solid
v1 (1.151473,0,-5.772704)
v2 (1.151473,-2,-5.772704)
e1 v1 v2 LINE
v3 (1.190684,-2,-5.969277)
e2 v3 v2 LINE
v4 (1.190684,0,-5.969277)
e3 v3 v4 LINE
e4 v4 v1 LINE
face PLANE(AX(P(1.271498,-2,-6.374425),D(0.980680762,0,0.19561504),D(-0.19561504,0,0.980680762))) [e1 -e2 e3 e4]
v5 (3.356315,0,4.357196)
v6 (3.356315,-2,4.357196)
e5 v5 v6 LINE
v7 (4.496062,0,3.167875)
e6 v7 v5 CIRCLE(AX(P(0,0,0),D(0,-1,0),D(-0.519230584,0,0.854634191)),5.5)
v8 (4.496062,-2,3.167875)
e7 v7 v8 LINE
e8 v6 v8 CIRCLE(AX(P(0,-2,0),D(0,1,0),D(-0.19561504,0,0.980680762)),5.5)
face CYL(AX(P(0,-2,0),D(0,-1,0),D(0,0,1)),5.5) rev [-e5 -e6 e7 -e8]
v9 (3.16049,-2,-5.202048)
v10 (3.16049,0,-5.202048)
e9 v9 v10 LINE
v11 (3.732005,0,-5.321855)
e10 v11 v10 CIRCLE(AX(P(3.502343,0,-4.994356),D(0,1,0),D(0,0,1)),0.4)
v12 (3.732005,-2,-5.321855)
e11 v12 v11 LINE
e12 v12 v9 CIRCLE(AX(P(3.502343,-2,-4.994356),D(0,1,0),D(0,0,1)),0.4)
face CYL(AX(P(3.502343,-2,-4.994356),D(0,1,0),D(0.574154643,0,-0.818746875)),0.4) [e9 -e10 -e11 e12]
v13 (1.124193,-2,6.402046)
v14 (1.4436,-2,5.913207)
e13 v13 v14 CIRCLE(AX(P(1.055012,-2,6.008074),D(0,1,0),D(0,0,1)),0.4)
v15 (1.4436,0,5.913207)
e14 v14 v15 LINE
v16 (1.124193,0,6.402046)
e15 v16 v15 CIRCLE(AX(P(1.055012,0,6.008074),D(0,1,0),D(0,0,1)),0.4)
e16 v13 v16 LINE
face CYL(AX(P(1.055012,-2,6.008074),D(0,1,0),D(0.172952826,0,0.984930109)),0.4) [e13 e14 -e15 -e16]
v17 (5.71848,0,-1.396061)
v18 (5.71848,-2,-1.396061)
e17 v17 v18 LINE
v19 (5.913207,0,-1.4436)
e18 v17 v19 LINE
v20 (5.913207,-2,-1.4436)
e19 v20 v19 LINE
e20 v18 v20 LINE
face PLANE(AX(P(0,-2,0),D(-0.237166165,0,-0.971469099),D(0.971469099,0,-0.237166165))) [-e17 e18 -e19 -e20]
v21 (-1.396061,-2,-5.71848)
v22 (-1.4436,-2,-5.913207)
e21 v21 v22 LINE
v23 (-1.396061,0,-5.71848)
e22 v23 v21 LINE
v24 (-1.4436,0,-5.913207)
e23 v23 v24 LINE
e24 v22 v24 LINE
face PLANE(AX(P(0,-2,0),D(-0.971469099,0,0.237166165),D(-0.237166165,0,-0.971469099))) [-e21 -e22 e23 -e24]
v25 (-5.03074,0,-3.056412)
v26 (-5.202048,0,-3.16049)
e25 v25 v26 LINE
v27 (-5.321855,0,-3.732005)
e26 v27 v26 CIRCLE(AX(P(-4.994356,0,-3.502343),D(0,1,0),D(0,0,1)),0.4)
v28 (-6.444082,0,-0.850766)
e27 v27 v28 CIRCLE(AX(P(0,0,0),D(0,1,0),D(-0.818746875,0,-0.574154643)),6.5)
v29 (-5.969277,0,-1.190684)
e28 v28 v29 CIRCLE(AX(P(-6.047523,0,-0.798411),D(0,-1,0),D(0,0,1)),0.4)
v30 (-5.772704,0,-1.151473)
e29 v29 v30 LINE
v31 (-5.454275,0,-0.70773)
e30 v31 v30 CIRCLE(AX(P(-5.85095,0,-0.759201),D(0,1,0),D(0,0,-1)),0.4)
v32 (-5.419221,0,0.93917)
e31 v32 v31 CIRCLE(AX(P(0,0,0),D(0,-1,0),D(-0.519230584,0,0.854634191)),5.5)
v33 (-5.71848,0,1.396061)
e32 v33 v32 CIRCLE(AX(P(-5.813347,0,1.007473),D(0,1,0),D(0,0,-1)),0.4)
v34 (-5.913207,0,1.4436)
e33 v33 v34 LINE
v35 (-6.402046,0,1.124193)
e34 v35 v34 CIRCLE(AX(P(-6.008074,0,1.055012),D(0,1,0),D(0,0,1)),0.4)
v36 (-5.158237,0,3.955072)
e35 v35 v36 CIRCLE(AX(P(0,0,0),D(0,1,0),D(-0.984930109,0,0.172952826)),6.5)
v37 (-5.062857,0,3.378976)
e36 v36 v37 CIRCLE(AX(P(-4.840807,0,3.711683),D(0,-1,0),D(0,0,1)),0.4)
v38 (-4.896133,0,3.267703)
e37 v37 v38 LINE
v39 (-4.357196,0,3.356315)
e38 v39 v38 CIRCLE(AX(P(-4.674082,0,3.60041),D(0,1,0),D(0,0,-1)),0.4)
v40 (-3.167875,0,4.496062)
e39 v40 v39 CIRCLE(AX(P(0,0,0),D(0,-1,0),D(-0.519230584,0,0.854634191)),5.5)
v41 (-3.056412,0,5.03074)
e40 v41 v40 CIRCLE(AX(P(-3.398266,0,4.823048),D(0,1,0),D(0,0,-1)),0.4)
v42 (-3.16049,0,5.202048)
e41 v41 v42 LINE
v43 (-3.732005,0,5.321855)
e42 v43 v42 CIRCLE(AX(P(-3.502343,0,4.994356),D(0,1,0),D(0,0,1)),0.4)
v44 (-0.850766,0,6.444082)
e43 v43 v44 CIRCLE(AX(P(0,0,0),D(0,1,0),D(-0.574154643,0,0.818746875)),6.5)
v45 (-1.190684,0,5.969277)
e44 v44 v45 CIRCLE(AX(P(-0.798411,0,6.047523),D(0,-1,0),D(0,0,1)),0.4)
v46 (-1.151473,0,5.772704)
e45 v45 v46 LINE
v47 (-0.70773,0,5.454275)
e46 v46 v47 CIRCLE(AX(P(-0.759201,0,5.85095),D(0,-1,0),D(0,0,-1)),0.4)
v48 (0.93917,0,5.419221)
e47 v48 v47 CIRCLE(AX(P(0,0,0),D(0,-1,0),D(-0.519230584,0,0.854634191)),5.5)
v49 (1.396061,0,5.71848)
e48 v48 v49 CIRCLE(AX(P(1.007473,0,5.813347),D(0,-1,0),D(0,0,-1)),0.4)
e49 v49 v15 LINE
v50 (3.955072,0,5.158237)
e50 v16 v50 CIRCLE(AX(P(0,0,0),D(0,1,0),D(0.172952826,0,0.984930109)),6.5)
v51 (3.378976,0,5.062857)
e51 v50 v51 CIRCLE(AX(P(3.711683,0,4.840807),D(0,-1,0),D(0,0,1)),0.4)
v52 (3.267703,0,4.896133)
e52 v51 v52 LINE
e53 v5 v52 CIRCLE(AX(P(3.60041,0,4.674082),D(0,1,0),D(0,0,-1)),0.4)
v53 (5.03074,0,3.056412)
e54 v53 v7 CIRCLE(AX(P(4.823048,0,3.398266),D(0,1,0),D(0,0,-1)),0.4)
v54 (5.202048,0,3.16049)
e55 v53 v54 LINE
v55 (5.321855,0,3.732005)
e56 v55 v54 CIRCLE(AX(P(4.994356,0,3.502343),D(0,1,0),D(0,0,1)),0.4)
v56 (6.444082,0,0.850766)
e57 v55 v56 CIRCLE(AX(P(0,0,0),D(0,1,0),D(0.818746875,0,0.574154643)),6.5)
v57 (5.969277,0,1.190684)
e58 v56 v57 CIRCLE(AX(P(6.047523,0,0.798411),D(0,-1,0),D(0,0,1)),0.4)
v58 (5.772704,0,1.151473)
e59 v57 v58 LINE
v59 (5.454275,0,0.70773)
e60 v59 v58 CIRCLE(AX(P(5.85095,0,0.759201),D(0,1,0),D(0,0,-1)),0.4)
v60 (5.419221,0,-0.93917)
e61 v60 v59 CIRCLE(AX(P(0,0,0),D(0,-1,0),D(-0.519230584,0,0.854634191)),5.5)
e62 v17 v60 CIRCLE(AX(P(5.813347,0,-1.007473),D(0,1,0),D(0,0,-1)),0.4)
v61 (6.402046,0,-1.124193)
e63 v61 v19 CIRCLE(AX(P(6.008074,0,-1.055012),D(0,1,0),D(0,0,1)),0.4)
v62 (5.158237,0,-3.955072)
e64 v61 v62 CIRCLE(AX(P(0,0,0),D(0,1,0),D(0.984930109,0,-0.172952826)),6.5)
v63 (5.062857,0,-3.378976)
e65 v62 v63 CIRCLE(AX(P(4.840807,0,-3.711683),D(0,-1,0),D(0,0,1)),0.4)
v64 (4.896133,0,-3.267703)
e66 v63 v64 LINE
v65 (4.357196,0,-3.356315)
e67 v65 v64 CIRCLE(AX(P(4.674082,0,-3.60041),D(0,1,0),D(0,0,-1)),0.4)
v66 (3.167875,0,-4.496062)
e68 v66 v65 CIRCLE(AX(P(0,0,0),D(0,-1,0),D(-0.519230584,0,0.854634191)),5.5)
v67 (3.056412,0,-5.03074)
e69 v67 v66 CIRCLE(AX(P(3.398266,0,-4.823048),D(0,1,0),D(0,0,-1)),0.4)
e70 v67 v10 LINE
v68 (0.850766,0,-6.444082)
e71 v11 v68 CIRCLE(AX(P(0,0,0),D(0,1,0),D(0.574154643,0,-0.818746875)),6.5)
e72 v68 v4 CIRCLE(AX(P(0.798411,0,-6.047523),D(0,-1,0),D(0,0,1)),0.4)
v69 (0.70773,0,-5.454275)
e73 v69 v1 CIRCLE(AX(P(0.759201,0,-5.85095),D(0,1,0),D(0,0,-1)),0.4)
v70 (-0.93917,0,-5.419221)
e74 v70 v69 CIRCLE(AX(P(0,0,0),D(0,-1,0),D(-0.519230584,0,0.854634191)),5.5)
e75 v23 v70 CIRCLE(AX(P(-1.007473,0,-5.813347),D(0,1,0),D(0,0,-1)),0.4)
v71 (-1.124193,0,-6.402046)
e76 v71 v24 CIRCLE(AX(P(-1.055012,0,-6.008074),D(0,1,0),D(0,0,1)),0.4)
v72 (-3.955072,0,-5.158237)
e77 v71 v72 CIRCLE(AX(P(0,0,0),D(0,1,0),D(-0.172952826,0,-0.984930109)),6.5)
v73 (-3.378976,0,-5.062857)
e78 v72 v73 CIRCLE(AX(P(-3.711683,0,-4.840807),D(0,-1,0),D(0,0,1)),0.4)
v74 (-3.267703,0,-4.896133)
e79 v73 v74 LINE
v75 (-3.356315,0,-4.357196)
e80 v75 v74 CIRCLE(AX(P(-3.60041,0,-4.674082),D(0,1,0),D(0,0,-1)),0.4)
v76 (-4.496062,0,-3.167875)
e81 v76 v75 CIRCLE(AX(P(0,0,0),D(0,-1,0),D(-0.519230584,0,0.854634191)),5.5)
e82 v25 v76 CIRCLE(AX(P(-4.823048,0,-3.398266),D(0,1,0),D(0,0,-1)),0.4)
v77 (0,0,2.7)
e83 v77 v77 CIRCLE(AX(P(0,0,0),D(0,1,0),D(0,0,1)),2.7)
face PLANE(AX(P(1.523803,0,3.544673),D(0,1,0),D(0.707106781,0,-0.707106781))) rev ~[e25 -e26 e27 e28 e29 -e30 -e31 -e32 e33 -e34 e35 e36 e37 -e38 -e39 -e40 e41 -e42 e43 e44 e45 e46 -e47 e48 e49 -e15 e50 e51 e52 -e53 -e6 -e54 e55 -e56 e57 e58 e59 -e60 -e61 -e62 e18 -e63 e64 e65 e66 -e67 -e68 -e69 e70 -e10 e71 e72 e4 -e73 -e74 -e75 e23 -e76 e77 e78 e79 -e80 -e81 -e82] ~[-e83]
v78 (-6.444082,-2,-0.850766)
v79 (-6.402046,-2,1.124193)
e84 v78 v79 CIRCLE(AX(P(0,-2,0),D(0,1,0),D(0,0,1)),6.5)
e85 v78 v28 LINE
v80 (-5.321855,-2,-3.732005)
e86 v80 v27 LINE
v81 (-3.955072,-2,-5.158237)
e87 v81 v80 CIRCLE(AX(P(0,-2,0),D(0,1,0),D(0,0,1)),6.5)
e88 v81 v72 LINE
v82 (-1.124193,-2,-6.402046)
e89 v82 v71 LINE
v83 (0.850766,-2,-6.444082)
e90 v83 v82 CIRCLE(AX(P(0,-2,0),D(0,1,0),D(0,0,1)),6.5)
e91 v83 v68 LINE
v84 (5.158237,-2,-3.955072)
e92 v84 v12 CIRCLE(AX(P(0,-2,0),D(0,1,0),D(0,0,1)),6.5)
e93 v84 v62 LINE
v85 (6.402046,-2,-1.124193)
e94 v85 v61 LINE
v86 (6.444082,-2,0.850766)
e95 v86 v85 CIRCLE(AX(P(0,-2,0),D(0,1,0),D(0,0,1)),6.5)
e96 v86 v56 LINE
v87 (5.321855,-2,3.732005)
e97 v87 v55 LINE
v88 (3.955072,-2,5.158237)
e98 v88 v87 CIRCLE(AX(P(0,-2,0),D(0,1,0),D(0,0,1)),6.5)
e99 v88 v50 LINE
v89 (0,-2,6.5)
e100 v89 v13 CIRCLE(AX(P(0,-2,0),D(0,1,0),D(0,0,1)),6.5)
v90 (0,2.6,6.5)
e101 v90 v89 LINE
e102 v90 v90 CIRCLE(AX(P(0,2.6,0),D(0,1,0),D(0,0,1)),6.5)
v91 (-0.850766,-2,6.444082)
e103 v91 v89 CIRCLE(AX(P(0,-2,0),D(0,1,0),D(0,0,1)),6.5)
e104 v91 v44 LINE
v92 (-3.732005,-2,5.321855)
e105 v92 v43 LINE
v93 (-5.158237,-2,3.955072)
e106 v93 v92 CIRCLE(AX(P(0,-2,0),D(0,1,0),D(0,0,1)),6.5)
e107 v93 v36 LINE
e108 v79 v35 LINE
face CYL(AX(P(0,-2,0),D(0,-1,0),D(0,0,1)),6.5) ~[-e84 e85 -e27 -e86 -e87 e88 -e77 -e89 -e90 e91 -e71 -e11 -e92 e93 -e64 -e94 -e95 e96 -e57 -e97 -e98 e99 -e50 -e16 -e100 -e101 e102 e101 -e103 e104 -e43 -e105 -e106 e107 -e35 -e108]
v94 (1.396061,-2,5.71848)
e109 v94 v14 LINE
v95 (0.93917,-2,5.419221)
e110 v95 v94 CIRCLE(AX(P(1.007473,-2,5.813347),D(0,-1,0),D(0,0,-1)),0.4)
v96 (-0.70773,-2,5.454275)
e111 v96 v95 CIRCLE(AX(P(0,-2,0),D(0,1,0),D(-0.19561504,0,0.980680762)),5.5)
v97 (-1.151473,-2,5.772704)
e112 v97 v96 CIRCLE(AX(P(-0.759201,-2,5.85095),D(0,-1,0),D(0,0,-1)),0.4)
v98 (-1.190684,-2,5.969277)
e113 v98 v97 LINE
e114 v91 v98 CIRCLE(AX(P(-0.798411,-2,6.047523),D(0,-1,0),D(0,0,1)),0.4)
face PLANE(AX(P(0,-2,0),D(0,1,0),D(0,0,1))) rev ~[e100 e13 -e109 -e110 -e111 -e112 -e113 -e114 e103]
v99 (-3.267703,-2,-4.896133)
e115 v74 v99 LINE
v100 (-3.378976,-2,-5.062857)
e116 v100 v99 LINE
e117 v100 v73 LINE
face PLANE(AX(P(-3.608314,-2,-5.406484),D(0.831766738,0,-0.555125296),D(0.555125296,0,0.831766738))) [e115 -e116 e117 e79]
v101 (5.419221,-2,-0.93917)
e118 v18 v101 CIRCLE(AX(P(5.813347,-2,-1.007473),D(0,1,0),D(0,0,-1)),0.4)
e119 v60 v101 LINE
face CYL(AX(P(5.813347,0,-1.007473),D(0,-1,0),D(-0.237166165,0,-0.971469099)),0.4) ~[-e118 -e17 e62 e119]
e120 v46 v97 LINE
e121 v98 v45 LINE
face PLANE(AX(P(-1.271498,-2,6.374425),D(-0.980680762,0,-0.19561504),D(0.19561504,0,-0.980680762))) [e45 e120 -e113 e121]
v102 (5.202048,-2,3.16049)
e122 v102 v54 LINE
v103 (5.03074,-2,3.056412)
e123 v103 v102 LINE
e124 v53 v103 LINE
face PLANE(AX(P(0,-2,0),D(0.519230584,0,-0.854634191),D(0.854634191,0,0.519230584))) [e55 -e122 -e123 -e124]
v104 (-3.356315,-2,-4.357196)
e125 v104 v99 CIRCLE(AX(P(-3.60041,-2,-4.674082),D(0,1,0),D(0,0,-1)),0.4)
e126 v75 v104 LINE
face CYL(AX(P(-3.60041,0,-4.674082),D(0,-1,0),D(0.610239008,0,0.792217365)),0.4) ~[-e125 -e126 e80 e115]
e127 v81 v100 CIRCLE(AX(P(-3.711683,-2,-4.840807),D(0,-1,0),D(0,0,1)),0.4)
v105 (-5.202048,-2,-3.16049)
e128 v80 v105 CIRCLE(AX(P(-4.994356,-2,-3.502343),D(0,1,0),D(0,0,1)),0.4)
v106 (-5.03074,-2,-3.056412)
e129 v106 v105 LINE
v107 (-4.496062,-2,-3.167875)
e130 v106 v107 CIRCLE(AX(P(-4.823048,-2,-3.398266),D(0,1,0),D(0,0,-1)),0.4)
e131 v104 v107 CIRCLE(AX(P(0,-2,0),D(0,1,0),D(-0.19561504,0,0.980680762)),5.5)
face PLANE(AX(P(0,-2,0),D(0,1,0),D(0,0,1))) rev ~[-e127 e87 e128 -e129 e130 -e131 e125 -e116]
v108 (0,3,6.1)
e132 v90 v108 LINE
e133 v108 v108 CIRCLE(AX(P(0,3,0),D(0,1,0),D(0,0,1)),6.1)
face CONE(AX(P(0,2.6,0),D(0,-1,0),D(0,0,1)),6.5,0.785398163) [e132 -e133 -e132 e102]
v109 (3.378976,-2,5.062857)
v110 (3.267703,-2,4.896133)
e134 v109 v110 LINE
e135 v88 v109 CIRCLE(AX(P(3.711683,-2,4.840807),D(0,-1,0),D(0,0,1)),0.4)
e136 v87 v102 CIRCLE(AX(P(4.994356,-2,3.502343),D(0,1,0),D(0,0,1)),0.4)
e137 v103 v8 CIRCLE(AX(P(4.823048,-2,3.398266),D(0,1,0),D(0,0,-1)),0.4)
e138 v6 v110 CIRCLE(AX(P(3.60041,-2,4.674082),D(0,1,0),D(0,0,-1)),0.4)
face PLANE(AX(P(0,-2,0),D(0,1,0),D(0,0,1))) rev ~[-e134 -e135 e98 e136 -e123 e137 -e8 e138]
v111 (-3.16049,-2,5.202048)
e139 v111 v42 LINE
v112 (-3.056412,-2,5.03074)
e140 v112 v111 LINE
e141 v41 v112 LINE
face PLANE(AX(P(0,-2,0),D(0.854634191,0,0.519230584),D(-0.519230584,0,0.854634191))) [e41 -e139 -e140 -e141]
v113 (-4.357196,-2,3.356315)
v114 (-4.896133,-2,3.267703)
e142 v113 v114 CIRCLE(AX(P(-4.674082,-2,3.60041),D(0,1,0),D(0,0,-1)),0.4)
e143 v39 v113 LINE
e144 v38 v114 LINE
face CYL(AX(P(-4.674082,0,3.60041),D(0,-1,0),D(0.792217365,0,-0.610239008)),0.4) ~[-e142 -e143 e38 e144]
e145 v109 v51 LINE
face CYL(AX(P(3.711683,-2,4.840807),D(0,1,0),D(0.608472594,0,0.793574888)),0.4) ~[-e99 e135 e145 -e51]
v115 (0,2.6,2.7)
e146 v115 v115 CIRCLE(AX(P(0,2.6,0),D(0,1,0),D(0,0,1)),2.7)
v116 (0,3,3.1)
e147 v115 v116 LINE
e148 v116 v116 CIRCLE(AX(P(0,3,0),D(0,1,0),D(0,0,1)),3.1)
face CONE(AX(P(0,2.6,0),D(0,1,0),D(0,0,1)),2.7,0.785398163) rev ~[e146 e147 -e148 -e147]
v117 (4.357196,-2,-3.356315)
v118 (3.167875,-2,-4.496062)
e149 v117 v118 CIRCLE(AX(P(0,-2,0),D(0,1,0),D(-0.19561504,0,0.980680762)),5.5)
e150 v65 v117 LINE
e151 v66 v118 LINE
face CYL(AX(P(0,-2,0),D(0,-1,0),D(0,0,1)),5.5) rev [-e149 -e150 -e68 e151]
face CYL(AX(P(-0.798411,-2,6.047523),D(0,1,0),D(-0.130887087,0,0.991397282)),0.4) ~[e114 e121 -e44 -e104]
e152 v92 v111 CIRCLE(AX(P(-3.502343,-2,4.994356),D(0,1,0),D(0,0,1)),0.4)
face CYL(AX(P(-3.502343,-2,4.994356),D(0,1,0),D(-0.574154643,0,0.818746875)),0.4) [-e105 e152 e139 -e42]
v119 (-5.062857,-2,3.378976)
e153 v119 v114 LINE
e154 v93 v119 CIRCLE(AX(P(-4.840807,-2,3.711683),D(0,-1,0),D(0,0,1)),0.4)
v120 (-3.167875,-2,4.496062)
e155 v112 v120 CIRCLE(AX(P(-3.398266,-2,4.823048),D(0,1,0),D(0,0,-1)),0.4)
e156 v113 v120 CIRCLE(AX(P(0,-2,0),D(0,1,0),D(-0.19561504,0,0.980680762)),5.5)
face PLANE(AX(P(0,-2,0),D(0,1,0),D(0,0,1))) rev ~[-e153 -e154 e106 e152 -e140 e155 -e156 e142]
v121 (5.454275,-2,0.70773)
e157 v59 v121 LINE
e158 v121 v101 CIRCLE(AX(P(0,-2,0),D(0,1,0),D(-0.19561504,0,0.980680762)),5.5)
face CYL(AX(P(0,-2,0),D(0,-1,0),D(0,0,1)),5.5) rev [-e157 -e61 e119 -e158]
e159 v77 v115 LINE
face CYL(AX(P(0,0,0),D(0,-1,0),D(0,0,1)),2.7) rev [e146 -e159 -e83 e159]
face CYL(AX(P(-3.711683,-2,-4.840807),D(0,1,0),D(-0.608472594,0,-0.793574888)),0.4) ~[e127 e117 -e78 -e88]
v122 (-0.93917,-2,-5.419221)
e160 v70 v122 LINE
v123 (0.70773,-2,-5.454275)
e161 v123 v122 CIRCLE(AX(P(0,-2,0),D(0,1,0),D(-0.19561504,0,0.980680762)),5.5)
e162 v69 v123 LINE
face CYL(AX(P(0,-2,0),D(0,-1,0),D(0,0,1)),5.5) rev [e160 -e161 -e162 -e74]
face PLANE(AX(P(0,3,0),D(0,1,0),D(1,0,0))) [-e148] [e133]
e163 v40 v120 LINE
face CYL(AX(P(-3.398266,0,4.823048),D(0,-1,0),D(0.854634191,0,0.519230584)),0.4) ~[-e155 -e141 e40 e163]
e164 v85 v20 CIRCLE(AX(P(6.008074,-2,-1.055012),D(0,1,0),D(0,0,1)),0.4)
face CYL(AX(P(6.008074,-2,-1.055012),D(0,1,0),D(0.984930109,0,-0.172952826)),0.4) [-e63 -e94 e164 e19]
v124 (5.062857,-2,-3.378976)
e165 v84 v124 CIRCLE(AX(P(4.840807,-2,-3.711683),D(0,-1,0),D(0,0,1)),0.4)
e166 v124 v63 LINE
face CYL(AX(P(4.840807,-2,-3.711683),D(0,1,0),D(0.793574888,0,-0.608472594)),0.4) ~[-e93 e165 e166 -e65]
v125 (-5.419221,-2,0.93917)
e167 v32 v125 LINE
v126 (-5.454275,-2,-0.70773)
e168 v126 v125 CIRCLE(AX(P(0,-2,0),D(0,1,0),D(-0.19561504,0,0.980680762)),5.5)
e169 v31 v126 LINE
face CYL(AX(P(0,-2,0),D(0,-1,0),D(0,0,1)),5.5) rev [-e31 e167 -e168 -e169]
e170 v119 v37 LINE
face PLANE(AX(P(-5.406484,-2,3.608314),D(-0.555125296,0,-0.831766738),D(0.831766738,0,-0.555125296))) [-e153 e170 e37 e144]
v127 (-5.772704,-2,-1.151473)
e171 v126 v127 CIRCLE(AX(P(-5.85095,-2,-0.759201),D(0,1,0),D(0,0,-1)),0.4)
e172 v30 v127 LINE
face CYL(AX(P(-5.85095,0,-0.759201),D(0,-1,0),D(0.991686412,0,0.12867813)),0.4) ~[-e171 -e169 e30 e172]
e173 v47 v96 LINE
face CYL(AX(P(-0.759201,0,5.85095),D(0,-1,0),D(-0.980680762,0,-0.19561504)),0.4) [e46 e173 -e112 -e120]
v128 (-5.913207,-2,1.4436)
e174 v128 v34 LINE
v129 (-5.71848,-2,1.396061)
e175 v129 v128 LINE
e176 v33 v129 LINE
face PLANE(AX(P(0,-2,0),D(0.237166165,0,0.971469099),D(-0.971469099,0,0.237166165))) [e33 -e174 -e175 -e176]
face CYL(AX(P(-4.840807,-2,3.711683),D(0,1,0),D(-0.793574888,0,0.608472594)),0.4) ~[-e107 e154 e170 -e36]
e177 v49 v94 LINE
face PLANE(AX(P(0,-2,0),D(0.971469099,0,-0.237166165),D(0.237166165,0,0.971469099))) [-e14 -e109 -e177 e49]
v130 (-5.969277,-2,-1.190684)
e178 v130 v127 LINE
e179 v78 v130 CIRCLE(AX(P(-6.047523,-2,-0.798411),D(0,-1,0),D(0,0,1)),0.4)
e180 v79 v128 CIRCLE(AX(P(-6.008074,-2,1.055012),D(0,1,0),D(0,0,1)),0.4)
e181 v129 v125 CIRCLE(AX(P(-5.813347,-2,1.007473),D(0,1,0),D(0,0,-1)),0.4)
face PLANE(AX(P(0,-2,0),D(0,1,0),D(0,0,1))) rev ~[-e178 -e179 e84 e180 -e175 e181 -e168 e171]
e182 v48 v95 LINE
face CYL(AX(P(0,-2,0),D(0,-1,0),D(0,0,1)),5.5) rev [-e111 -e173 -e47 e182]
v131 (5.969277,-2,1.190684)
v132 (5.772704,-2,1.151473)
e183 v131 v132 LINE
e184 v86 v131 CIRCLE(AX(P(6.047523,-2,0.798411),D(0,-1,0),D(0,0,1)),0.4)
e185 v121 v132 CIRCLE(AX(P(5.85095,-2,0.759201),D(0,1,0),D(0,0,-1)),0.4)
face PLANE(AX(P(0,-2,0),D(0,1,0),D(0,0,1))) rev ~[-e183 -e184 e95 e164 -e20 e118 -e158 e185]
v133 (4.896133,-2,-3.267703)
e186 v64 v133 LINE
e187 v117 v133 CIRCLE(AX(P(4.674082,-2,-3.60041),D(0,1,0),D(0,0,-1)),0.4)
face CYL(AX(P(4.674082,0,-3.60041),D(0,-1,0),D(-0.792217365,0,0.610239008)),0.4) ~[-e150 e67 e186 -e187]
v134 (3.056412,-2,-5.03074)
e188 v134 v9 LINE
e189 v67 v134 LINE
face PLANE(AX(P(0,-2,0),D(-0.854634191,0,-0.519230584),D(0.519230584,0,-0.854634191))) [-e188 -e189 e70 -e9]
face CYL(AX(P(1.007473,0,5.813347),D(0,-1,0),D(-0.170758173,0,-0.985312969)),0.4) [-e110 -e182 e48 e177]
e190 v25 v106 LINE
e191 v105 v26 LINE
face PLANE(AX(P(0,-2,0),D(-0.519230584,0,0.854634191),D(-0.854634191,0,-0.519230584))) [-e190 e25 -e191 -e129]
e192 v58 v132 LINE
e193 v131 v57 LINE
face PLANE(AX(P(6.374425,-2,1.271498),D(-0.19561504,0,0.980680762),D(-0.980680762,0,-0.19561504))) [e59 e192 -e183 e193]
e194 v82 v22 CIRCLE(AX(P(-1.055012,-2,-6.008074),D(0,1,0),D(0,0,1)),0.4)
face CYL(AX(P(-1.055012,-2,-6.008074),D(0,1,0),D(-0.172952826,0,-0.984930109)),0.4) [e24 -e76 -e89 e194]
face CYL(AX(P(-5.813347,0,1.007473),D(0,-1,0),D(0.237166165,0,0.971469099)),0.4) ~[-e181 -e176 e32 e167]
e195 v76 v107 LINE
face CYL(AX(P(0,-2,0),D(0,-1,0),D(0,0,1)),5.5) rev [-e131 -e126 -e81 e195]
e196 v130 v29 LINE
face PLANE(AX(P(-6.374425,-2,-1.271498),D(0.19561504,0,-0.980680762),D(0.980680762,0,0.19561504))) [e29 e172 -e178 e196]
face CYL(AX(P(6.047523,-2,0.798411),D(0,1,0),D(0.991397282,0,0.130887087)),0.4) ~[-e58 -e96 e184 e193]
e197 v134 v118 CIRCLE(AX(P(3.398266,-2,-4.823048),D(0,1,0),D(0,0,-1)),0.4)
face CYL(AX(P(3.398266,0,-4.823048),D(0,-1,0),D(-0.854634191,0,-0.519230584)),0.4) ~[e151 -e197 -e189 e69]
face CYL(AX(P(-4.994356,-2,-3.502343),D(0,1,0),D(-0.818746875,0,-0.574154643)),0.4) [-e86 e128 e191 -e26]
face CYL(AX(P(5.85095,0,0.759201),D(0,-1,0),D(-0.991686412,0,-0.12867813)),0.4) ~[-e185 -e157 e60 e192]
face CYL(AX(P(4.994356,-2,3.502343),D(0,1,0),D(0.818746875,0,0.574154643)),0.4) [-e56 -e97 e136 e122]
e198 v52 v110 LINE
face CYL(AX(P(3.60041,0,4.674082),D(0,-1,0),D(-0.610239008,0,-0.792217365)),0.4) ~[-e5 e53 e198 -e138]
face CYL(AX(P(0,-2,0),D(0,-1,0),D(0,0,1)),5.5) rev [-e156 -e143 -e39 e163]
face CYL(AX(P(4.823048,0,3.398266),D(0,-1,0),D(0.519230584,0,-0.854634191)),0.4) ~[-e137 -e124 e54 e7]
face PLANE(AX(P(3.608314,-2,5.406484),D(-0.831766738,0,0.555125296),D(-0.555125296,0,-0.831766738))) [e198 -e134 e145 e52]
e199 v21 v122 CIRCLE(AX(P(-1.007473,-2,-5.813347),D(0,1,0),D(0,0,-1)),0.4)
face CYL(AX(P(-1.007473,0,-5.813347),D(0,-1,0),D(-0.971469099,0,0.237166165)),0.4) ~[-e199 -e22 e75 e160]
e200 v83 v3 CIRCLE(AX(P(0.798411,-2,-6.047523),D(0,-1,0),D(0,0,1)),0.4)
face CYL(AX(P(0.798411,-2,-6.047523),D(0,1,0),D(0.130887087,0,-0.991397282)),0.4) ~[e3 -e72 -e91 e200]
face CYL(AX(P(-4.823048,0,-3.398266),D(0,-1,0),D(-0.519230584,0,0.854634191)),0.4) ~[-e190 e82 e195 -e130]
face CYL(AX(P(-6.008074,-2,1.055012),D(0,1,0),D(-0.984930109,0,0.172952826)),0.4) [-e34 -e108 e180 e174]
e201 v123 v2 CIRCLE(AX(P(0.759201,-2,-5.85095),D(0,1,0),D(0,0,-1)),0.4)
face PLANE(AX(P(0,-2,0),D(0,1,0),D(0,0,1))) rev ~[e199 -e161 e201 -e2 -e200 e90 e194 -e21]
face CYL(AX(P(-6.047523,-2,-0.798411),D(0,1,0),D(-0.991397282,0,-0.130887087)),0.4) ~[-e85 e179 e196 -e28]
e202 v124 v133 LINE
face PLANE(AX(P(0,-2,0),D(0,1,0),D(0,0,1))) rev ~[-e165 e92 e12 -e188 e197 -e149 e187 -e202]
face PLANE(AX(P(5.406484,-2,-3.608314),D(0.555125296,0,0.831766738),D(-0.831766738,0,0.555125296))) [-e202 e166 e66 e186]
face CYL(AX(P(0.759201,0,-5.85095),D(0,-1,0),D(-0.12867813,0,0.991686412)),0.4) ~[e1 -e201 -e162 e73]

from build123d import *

# Parameters (mm, degrees)
SKETCH1_R           = 6.5
SKETCH1_R_2         = 2.7
BOSS_EXTRUDE1_DEPTH = 3
BOSS_EXTRUDE2_START = -2
SKETCH1_3_R         = 6.5
SKETCH1_3_R_2       = 5.5
BOSS_EXTRUDE2_DEPTH = 2
CUT_EXTRUDE1_DEPTH  = 2
CIRPATTERN1_COUNT   = 8
FILLET2_R           = 0.4
CHAMFER1_SIZE       = 0.4


with BuildPart() as part:
    # Sketch1 → Boss-Extrude1 (new body)
    with BuildSketch(Plane(origin=(0, 0, 0), x_dir=(1, 0, 0), z_dir=(0, 1, 0))):
        Circle(SKETCH1_R)
        Circle(SKETCH1_R_2, mode=Mode.SUBTRACT)
    extrude(amount=BOSS_EXTRUDE1_DEPTH)

    # Sketch1<3> → Boss-Extrude2 (add)
    with BuildSketch(Plane(origin=(0, 0, 0), x_dir=(1, 0, 0), z_dir=(0, 1, 0)).offset(BOSS_EXTRUDE2_START)):
        Circle(SKETCH1_3_R)
        Circle(SKETCH1_3_R_2, mode=Mode.SUBTRACT)
    extrude(amount=BOSS_EXTRUDE2_DEPTH)

    # Sketch2 → Cut-Extrude1 (cut)
    with BuildSketch(Plane(origin=(0, -2, 0), x_dir=(-1, 0, 0), z_dir=(0, -1, 0))):
        Polygon((0, 0), (3.374998796, -5.555122242), (3.374998796, -6.374424951), (1.271497758, -6.374424951), align=None)
    cut_extrude1 = extrude(amount=-CUT_EXTRUDE1_DEPTH, mode=Mode.SUBTRACT)

    # CirPattern1: Cut-Extrude1 ×8 about axis
    cirpattern1_axis = Axis((0, 3, 0), (0, -1, 0))
    for i in range(1, CIRPATTERN1_COUNT):
        add(cut_extrude1.rotate(cirpattern1_axis, i * 360 / CIRPATTERN1_COUNT), mode=Mode.SUBTRACT)

    # Fillet2
    fillet2_edges = [part.edges().sort_by_distance(p)[0] for p in [
        (6.314549143, -1, -1.541580072),
        (5.406483796, -1, -3.608314421),
        (3.374998796, -1, -5.555122242),
        (1.271497758, -1, -6.374424951),
        (-1.541580072, -1, -6.314549143),
        (-3.608314421, -1, -5.406483796),
        (-5.555122242, -1, -3.374998796),
        (-6.374424951, -1, -1.271497758),
        (-6.314549143, -1, 1.541580072),
        (-5.406483796, -1, 3.608314421),
        (-3.374998796, -1, 5.555122242),
        (-1.271497758, -1, 6.374424951),
        (1.541580072, -1, 6.314549143),
        (3.608314421, -1, 5.406483796),
        (5.555122242, -1, 3.374998796),
        (6.374424951, -1, 1.271497758),
        (2.855768212, -1, -4.700488051),
        (4.574717058, -1, -3.053189126),
        (5.343080044, -1, -1.304413907),
        (5.393744189, -1, 1.075882719),
        (4.700488051, -1, 2.855768212),
        (3.053189126, -1, 4.574717058),
        (1.304413907, -1, 5.343080044),
        (-1.075882719, -1, 5.393744189),
        (-2.855768212, -1, 4.700488051),
        (-4.574717058, -1, 3.053189126),
        (-5.343080044, -1, 1.304413907),
        (-5.393744189, -1, -1.075882719),
        (-4.700488051, -1, -2.855768212),
        (-3.053189126, -1, -4.574717058),
        (1.075882719, -1, -5.393744189),
        (-1.304413907, -1, -5.343080044),
    ]]
    fillet(fillet2_edges, radius=FILLET2_R)

    # Chamfer1
    chamfer1_edges = [part.edges().sort_by_distance(p)[0] for p in [
        (-6.5, 3, 0),
        (-2.7, 3, 0),
    ]]
    chamfer(chamfer1_edges, length=CHAMFER1_SIZE)


solid = part.part
